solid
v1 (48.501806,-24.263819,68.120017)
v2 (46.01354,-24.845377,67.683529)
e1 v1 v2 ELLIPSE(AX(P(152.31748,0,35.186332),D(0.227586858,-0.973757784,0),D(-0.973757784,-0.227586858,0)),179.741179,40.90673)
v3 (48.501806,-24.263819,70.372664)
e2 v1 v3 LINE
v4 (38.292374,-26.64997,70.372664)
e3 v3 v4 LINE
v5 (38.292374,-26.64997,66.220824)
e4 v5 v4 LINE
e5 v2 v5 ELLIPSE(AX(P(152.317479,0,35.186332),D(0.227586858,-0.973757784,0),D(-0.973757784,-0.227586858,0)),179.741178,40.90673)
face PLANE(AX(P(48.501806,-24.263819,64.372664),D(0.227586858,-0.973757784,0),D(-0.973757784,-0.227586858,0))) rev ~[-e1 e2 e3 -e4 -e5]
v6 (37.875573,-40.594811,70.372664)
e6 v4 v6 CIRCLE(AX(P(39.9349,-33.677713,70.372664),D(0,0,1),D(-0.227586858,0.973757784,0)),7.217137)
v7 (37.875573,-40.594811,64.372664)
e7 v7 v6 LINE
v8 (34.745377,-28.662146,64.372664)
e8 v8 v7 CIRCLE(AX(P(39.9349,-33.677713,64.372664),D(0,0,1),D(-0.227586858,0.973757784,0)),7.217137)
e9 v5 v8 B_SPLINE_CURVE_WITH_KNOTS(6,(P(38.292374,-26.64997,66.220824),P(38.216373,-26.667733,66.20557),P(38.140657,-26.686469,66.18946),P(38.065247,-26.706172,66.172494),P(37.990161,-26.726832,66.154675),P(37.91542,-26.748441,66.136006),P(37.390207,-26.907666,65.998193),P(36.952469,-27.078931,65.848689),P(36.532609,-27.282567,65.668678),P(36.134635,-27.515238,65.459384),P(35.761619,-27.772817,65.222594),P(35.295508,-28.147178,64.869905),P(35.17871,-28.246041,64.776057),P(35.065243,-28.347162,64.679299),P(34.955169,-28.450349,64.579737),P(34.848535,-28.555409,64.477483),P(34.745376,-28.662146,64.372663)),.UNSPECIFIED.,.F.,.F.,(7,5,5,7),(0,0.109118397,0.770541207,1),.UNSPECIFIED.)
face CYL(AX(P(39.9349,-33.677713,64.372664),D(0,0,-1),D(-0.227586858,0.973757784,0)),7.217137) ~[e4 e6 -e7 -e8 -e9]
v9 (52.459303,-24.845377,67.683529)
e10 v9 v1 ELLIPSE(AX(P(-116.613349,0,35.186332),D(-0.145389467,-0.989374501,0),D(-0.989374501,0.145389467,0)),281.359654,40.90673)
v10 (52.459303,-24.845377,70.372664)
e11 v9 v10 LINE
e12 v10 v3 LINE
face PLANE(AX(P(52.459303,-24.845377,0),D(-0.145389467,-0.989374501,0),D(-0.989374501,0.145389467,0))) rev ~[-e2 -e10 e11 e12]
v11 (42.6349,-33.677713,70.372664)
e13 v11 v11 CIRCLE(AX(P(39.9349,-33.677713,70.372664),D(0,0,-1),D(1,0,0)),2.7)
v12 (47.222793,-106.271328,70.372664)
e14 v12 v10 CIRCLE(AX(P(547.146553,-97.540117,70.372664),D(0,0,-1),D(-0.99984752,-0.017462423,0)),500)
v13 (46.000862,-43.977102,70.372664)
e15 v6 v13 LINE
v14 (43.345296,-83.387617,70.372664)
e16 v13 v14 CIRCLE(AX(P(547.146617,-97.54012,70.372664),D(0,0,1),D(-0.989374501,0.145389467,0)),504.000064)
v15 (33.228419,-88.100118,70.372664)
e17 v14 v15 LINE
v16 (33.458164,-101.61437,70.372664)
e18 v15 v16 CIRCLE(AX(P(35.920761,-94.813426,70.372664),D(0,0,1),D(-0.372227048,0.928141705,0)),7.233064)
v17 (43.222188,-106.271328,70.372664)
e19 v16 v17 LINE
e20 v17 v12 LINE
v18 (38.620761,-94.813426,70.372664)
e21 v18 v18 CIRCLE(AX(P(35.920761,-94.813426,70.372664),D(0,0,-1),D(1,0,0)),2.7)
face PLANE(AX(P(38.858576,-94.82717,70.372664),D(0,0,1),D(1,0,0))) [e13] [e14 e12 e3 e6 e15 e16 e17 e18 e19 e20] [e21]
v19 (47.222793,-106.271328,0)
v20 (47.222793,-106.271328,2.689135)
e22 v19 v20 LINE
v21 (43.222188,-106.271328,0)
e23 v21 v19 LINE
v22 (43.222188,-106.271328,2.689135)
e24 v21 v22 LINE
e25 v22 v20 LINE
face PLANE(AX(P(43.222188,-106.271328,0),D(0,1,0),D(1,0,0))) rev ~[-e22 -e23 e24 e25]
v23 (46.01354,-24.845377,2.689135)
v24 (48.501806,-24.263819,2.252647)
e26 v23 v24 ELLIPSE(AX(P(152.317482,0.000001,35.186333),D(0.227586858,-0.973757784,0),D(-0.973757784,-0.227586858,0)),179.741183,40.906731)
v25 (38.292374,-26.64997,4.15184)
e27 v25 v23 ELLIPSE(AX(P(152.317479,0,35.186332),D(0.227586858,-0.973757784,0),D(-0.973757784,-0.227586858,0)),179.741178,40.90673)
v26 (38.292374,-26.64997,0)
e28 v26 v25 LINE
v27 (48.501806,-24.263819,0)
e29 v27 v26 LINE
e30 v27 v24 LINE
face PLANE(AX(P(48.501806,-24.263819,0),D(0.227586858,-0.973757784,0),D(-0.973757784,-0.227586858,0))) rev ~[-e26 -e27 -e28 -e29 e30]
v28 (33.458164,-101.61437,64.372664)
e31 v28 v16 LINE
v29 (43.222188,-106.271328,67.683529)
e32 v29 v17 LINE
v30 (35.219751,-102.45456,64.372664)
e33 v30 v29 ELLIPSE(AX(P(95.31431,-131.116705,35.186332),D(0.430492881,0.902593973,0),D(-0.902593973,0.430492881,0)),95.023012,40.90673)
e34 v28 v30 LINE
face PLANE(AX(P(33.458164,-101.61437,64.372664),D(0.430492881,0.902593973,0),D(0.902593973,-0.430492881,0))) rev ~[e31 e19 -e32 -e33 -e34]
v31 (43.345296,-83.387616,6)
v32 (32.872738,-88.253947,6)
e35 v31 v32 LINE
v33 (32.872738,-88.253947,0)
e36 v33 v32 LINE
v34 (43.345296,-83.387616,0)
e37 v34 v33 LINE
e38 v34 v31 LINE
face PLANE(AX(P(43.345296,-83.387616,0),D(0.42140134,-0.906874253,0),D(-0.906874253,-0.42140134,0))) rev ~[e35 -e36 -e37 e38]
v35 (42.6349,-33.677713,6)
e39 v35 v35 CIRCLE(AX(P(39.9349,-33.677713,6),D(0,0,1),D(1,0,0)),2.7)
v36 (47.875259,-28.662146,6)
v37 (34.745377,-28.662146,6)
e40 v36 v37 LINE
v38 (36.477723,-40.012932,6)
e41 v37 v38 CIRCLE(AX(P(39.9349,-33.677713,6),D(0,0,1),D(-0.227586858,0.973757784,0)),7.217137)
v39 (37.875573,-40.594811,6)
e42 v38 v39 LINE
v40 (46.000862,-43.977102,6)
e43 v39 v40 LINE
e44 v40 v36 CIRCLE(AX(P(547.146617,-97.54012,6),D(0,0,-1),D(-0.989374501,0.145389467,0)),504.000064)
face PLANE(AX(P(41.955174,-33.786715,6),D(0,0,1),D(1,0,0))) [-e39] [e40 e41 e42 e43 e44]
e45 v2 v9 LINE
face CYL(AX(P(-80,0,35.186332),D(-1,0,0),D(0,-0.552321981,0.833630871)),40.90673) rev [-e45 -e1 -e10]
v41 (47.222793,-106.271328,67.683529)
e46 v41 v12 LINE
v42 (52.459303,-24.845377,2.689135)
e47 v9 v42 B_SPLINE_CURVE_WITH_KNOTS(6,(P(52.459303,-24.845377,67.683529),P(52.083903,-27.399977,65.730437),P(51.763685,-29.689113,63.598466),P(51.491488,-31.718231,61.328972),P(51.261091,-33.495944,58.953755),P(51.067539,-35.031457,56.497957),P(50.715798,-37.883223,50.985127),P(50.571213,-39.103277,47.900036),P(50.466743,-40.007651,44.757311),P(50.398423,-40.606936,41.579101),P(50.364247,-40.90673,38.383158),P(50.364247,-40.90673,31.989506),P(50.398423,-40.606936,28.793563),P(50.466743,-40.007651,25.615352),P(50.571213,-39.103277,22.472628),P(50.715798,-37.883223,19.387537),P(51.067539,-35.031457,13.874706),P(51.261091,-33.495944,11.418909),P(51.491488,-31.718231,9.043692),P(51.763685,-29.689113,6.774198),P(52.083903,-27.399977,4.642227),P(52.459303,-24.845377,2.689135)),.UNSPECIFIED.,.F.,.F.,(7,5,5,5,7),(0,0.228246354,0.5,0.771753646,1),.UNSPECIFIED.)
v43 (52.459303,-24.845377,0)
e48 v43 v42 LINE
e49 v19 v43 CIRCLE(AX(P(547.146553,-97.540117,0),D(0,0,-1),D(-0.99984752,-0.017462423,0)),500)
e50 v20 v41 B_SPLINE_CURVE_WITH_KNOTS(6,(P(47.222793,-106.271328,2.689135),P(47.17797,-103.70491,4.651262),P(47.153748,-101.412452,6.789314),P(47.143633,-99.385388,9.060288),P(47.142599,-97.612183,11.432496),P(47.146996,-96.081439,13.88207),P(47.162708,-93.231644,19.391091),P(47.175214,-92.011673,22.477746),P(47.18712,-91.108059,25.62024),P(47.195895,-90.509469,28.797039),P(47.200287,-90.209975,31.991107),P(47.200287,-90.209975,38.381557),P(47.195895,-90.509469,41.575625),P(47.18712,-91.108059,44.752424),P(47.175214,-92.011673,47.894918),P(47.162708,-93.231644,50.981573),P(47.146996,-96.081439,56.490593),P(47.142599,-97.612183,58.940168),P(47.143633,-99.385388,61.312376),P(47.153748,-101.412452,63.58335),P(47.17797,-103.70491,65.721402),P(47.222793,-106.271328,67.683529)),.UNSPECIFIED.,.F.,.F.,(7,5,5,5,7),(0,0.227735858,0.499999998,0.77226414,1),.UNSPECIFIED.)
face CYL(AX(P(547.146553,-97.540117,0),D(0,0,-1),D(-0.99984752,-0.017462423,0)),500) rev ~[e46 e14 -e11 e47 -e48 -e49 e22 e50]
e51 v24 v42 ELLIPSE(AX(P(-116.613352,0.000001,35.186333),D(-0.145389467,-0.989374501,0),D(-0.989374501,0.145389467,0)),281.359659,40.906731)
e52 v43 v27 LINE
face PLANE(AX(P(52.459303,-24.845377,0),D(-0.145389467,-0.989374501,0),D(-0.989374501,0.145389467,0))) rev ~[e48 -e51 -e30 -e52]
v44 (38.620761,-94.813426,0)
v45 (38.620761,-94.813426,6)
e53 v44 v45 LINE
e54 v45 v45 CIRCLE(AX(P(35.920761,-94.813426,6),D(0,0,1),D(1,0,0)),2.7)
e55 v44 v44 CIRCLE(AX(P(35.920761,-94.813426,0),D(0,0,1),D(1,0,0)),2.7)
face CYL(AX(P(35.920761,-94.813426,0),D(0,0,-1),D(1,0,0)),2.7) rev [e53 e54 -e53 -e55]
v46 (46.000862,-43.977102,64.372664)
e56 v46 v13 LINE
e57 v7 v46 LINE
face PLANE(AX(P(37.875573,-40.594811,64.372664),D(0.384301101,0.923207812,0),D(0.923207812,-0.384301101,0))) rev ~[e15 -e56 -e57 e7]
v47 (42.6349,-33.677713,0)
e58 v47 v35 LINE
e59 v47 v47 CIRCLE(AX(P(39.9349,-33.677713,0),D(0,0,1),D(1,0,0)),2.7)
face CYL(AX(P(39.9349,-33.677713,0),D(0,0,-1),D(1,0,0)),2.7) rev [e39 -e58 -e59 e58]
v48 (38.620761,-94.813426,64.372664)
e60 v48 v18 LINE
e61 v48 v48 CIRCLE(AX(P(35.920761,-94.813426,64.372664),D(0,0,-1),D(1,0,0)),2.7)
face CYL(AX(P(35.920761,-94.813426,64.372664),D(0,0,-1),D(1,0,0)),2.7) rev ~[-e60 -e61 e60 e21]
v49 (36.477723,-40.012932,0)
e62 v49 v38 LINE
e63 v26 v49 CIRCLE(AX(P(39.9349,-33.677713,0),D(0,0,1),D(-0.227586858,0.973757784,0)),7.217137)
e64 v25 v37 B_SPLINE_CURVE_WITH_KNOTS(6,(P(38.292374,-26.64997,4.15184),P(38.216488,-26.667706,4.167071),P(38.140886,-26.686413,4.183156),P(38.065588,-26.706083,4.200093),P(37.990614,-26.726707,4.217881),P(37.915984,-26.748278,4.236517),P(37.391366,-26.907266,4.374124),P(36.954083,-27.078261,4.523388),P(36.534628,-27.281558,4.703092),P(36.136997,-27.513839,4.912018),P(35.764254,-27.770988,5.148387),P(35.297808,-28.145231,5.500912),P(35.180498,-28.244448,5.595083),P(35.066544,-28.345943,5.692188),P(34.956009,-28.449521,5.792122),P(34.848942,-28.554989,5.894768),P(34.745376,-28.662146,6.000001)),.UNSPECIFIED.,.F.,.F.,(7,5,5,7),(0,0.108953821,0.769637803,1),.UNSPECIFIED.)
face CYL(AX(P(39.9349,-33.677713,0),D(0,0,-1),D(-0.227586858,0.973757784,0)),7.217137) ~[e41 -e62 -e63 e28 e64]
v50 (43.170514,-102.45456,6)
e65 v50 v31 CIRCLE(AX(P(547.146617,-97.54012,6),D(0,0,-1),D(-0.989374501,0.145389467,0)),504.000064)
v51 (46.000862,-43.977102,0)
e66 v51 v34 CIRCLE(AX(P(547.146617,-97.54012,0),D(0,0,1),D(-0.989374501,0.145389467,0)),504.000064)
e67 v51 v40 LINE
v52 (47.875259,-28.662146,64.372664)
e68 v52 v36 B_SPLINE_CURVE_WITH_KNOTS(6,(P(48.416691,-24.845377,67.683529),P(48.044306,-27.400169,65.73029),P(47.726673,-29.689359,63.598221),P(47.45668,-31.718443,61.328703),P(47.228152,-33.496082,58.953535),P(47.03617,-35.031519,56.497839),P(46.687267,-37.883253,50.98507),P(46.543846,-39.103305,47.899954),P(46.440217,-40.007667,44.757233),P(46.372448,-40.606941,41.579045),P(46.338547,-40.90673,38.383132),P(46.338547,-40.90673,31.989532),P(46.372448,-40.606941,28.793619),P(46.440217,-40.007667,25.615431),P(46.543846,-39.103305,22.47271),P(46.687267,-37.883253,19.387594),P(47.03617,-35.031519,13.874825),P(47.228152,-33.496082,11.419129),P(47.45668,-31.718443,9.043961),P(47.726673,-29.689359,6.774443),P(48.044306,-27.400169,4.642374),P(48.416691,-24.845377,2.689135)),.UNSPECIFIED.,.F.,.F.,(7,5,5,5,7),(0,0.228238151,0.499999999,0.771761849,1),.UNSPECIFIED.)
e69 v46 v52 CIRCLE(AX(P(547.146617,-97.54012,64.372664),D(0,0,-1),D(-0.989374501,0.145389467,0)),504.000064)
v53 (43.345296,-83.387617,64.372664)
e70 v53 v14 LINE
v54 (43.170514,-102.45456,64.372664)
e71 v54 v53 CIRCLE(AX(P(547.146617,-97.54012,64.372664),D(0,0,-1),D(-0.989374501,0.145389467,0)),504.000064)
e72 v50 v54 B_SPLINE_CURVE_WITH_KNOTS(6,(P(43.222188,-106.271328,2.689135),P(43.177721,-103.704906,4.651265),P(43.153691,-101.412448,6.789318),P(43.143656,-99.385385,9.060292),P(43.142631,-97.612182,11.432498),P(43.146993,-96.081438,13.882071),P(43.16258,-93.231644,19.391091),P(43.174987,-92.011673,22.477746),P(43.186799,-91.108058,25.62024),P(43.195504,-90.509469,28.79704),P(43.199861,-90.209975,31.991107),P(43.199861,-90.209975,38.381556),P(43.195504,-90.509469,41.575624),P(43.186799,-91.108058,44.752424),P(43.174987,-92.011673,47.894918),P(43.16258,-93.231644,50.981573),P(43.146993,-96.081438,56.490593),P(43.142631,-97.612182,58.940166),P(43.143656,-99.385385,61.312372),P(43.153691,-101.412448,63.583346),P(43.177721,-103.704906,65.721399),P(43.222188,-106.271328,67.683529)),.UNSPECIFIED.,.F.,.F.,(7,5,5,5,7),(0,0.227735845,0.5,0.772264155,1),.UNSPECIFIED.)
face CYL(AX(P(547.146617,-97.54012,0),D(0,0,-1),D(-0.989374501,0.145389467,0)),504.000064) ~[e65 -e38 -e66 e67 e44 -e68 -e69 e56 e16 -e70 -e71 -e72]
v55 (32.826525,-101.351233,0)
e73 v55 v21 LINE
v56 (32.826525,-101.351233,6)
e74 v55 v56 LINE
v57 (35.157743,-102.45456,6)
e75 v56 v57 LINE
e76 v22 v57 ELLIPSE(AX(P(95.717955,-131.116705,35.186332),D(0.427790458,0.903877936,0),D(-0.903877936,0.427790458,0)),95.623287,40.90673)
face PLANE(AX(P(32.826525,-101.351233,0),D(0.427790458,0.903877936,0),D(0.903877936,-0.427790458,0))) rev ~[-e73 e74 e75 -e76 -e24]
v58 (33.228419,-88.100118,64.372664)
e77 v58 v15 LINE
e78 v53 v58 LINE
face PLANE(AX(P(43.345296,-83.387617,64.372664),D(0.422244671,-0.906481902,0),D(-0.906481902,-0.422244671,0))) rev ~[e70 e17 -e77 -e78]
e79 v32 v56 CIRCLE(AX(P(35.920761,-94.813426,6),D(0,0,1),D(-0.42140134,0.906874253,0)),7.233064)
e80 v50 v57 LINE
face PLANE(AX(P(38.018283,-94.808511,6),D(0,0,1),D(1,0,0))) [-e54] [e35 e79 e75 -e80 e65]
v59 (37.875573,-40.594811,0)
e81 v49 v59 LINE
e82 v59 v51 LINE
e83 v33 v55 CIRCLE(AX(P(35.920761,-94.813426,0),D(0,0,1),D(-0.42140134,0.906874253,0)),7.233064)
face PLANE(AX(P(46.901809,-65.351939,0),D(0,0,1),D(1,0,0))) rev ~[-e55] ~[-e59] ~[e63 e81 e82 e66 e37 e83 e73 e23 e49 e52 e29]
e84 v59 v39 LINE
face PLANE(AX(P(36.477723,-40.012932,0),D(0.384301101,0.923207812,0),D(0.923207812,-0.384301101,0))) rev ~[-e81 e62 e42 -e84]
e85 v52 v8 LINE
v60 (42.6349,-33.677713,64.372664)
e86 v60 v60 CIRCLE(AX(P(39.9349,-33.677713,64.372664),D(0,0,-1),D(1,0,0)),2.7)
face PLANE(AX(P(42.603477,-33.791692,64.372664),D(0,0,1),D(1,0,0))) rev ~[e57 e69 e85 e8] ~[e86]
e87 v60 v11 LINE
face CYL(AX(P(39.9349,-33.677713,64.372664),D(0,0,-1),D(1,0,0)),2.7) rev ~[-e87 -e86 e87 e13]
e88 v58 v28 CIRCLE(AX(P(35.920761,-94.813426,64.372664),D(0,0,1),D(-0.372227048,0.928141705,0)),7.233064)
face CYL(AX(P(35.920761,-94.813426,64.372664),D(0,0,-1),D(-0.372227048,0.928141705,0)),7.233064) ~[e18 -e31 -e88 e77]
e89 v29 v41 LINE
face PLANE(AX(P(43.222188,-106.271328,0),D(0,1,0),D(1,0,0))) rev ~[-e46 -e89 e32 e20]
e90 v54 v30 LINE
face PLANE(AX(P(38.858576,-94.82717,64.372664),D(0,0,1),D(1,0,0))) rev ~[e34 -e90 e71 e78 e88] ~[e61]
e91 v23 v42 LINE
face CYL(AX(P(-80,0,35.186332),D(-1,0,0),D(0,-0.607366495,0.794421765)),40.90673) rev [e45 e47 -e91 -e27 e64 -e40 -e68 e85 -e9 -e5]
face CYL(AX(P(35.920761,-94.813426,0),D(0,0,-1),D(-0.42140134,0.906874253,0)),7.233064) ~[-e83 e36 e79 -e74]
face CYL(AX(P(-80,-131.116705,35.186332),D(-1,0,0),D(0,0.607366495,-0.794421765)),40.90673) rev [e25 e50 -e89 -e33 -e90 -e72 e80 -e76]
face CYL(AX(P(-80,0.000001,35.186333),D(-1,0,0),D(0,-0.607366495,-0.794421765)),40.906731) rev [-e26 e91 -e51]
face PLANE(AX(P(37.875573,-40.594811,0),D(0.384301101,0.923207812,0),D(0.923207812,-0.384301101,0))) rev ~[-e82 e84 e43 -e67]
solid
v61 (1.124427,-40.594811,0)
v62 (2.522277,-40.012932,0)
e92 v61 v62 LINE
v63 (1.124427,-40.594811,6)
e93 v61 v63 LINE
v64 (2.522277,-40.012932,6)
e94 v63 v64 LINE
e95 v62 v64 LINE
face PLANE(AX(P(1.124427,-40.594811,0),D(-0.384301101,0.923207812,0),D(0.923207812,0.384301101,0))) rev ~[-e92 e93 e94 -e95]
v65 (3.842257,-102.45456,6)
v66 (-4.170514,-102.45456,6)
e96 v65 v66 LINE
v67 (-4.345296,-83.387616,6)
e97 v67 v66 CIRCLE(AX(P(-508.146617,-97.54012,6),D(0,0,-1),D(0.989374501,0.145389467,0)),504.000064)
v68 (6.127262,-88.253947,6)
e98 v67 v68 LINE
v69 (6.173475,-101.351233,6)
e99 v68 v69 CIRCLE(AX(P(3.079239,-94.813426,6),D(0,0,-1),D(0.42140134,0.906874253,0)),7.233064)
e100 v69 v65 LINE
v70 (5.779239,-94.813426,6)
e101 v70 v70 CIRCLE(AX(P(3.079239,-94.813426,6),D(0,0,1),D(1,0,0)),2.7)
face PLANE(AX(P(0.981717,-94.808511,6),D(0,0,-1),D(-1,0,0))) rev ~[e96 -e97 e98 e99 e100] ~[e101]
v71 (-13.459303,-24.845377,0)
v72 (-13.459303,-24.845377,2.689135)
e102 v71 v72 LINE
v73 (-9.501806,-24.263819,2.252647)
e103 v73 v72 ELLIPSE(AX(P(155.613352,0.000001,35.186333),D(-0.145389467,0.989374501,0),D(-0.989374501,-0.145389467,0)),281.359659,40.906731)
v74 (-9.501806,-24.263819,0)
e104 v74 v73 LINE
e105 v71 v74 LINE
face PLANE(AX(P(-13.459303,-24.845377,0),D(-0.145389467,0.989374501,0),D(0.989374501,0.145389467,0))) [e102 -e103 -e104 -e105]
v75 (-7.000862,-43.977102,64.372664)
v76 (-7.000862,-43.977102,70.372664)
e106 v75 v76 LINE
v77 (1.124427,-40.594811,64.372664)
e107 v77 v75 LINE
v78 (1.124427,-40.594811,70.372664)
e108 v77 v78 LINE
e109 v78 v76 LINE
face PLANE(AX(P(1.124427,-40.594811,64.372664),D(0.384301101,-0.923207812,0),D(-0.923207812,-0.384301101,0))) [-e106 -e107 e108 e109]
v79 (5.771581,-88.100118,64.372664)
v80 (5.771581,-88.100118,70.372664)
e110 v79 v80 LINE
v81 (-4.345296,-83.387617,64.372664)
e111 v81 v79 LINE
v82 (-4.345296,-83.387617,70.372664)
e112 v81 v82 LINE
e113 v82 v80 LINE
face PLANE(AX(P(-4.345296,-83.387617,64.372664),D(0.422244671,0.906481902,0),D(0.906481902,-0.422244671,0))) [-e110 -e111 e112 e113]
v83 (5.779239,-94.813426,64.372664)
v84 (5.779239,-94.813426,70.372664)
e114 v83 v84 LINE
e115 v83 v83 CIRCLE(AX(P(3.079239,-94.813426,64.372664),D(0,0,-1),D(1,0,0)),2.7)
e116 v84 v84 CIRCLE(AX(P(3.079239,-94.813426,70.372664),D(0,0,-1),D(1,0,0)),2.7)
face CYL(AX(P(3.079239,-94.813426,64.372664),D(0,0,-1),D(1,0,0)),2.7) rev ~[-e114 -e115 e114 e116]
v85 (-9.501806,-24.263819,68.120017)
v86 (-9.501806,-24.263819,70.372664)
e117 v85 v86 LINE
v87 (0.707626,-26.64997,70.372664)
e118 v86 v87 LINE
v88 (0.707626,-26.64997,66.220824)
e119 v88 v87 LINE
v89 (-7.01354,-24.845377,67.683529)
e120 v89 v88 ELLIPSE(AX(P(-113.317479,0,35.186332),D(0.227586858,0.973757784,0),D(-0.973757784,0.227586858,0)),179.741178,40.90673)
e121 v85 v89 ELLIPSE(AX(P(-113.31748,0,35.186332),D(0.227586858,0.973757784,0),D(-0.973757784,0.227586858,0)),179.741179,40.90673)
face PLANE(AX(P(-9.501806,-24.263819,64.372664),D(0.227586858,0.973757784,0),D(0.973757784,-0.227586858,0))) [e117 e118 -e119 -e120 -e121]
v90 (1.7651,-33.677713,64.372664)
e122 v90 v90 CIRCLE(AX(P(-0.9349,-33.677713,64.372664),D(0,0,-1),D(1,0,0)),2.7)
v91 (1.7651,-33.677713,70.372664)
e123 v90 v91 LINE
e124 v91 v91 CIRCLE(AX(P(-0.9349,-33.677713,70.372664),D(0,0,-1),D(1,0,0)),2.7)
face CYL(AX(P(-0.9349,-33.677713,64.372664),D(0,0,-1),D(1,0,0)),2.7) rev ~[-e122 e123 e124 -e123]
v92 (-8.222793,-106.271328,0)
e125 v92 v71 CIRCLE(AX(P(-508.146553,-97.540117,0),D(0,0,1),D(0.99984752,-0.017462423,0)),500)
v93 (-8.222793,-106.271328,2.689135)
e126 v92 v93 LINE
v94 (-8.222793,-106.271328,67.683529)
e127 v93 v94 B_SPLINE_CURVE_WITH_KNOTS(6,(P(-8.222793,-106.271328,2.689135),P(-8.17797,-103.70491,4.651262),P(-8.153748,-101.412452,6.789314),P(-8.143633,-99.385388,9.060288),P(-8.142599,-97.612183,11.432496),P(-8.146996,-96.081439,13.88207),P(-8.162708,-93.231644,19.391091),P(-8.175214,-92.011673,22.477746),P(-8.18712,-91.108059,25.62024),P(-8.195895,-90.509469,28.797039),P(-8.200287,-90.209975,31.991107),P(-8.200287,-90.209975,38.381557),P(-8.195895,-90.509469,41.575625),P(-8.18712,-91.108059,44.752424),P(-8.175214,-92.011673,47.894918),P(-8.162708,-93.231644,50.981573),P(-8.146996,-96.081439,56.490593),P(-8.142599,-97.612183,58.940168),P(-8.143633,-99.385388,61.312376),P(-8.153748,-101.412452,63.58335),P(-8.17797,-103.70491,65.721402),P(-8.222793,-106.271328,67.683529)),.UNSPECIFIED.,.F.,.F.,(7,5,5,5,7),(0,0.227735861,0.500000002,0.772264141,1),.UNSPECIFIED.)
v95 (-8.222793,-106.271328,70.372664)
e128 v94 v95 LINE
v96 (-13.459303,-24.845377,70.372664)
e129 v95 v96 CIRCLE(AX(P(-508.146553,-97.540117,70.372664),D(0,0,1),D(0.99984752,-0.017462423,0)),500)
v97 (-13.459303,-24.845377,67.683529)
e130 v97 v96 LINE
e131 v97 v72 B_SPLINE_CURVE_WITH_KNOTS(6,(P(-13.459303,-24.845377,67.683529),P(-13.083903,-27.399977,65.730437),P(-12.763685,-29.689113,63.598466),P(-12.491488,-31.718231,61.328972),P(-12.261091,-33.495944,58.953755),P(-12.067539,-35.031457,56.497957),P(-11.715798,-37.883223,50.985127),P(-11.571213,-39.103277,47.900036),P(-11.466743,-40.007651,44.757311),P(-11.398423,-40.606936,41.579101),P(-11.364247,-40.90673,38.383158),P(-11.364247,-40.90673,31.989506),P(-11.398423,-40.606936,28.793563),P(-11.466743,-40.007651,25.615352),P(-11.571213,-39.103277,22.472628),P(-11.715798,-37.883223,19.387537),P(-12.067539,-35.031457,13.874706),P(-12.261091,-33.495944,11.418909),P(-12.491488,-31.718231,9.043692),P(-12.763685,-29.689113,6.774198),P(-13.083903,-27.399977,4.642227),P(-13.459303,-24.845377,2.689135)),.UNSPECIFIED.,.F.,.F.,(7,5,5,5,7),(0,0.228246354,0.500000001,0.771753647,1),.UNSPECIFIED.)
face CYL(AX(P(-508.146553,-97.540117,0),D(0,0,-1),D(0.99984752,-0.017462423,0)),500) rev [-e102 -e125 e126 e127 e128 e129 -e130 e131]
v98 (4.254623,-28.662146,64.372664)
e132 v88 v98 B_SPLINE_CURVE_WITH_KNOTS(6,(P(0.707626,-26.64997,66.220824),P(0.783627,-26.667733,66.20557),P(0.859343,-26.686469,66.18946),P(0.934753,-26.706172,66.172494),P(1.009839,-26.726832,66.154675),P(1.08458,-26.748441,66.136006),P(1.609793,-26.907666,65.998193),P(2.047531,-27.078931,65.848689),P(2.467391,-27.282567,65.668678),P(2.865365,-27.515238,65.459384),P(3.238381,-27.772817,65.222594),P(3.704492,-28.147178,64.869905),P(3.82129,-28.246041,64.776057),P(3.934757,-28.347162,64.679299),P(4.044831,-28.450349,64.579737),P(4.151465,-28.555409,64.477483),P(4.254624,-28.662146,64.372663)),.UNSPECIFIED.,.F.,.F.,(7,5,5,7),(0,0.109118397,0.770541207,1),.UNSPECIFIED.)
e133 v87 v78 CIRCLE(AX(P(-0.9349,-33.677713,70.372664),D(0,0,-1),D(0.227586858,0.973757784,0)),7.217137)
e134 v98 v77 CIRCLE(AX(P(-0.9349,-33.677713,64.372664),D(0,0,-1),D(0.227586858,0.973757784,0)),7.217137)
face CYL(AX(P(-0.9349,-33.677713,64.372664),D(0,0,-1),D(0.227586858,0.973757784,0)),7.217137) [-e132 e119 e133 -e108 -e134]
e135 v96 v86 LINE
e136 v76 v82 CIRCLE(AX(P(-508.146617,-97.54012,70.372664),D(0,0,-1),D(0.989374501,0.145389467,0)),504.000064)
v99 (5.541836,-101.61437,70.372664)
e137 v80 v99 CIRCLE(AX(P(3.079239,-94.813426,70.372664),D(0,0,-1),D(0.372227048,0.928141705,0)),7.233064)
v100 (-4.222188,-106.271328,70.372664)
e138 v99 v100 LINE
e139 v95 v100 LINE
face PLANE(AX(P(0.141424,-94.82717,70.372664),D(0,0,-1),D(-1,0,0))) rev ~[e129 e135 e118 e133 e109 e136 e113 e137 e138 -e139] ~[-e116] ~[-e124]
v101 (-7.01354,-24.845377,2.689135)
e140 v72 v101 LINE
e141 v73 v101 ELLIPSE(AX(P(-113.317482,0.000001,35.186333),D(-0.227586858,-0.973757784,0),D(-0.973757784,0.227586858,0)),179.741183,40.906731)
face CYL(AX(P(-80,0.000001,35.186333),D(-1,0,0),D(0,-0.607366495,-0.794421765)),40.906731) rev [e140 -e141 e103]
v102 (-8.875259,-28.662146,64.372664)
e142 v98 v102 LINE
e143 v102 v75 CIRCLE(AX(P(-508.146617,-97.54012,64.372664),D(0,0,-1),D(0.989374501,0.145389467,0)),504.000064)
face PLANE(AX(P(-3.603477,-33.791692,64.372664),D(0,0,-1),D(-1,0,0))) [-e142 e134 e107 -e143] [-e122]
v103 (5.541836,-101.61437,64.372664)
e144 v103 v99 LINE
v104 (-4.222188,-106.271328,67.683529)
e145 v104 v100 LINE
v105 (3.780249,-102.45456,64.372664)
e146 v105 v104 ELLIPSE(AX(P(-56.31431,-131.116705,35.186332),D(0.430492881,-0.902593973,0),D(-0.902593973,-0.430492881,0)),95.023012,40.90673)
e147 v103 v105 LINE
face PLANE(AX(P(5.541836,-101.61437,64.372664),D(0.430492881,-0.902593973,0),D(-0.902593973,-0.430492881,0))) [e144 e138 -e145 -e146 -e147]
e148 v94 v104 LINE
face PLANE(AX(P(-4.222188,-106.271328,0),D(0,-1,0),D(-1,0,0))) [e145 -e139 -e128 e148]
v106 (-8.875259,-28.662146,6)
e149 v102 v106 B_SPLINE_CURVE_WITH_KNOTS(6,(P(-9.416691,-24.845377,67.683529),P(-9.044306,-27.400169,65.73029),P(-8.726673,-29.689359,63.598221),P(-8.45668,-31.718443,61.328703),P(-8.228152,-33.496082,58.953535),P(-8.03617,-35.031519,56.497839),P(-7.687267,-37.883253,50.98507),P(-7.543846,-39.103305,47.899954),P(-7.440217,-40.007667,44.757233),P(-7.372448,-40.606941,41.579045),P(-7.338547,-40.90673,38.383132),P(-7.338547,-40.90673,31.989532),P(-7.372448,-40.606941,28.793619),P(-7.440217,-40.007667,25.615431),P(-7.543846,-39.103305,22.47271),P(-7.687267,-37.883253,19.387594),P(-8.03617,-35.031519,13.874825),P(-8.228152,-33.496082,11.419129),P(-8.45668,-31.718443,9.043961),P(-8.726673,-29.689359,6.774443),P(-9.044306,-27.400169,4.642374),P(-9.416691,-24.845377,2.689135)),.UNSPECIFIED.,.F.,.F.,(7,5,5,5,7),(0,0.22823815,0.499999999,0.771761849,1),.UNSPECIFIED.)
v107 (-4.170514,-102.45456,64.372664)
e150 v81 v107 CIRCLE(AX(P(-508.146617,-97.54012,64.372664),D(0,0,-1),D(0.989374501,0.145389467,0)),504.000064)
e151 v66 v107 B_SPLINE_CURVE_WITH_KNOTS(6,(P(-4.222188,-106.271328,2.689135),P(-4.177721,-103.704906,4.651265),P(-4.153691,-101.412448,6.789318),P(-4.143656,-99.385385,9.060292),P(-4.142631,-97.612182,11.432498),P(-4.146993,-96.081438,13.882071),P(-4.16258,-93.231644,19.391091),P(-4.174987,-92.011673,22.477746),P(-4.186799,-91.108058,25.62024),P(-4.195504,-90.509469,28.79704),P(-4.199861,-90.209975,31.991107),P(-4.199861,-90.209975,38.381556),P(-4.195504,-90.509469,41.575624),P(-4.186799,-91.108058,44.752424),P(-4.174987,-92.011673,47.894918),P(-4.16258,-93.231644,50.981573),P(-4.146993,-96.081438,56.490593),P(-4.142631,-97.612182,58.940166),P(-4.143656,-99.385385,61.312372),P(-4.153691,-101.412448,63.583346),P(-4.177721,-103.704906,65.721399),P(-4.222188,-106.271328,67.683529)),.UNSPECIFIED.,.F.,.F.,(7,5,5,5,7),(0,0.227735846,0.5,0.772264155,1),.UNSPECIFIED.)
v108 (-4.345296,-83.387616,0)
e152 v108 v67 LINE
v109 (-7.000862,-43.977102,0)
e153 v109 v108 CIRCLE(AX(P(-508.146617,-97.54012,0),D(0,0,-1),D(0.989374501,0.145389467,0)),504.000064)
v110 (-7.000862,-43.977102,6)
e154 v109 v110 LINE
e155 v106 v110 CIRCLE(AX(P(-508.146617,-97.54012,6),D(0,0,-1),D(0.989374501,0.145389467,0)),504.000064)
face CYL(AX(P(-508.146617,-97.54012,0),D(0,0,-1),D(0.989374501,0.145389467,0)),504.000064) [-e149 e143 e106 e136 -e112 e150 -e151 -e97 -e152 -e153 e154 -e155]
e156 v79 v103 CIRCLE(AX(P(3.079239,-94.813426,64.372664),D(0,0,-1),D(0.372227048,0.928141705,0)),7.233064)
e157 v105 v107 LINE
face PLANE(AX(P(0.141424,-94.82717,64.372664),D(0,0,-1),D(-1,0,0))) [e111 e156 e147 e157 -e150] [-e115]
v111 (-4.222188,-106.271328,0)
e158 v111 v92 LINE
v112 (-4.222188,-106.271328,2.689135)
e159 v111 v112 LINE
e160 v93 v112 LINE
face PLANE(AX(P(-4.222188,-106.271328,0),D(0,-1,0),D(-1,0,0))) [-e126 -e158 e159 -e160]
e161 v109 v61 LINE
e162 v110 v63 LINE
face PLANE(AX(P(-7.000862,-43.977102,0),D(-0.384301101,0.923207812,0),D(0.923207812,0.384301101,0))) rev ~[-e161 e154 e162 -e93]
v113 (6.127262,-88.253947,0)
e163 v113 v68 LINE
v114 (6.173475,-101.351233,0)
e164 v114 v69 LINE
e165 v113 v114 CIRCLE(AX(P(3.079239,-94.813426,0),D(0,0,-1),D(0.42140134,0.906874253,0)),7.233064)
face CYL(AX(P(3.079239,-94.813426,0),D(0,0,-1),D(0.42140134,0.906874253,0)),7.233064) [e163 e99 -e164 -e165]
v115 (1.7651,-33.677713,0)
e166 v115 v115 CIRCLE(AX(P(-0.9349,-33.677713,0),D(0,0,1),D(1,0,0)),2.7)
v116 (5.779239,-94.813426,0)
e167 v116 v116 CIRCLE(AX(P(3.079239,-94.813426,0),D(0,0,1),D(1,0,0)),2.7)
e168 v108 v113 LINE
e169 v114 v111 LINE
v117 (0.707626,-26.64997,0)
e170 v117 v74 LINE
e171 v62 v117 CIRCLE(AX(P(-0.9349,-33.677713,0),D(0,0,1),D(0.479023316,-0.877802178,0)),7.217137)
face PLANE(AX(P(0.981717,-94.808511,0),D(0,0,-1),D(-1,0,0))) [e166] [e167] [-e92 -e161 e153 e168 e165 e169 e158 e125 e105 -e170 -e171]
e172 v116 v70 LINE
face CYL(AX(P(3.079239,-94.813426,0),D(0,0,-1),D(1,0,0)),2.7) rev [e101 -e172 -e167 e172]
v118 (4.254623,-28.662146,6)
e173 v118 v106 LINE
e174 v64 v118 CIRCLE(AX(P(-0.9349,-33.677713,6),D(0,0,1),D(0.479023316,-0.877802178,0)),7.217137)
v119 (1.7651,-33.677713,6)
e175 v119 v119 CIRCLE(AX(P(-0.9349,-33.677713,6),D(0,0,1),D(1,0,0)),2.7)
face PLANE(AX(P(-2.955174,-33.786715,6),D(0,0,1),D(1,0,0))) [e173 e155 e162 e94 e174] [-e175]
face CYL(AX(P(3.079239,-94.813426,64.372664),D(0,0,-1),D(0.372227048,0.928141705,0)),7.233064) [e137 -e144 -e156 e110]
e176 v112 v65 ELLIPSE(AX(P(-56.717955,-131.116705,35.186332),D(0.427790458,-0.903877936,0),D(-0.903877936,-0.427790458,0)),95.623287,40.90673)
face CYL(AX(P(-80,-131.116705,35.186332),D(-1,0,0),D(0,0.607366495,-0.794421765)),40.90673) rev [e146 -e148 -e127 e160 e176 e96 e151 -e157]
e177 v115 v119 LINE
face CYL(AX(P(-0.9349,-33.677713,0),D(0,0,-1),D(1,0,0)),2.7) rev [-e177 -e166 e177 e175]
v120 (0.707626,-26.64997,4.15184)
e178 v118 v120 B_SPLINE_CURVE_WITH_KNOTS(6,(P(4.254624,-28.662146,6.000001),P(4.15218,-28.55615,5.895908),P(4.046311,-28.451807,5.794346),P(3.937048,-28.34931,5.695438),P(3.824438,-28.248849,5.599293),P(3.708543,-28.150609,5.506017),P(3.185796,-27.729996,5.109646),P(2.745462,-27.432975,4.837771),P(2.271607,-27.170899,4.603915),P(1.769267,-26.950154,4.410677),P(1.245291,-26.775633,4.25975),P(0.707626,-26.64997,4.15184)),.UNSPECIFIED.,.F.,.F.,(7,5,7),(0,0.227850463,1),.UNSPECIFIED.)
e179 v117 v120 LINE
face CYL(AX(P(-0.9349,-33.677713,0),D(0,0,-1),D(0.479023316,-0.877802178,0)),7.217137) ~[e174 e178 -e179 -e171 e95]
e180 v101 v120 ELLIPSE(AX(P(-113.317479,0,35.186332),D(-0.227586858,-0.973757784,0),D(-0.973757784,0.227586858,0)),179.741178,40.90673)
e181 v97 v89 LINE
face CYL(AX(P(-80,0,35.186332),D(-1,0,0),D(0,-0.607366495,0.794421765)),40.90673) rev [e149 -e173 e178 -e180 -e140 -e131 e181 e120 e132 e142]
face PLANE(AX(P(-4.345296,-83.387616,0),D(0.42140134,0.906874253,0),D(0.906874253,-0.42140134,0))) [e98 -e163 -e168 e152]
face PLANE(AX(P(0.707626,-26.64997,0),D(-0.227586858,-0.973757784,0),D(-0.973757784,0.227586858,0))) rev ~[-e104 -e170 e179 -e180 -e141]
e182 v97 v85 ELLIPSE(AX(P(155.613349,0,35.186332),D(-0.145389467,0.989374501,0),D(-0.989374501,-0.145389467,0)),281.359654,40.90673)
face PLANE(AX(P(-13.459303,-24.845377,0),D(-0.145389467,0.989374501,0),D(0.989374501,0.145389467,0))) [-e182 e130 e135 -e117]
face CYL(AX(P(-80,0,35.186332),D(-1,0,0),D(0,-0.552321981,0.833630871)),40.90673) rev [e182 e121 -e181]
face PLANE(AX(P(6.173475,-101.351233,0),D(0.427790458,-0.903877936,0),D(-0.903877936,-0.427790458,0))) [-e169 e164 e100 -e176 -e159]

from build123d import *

# Parameters (mm, degrees)
BOSS_EXTRUDE1_DEPTH     = 70.372663867
BOSS_EXTRUDE1_2_DEPTH   = 70.372663867
SKETCH3_R               = 2.7
BOSS_EXTRUDE3_DEPTH     = 6
BOSS_EXTRUDE4_START     = 6
SKETCH4_R               = 2.7
BOSS_EXTRUDE4_DEPTH     = 6
CUT_EXTRUDE1_DEPTH      = 37
CUT_EXTRUDE1_DEPTH_BACK = 122


with BuildPart() as part:
    # Sketch1 → Boss-Extrude1 (new body)
    with BuildSketch(Plane.XY):
        with BuildLine():
            Line((52.459303301, -24.845377227), (48.501805535, -24.263819392))
            ThreePointArc((48.501805535, -24.263819392), (44.187793225, -65.159788986), (43.222187867, -106.271327968))
            Line((43.222187867, -106.271327968), (47.222792706, -106.271327968))
            ThreePointArc((47.222792706, -106.271327968), (48.177303783, -65.451357049), (52.459303301, -24.845377227))
        make_face()
    extrude(amount=BOSS_EXTRUDE1_DEPTH)



with BuildPart() as body_2:
    # Sketch1 → Boss-Extrude1 2 (new body)
    with BuildSketch(Plane.XY):
        with BuildLine():
            ThreePointArc((-9.501805535, -24.263819392), (-5.187793225, -65.159788986), (-4.222187867, -106.271327968))
            Line((-4.222187867, -106.271327968), (-8.222792706, -106.271327968))
            ThreePointArc((-8.222792706, -106.271327968), (-9.177303783, -65.451357049), (-13.459303301, -24.845377227))
            Line((-13.459303301, -24.845377227), (-9.501805535, -24.263819392))
        make_face()
    extrude(amount=BOSS_EXTRUDE1_2_DEPTH)


with BuildPart() as part_1:
    add(part.part)

    add(body_2.part)  # Boss-Extrude3 merges body 2
    # Sketch3 → Boss-Extrude3 (add)
    # profile 1 of 4: a face of its own
    with BuildSketch(Plane.XY):
        with BuildLine():
            Line((46.588315584, -44.278175656), (48.501805535, -24.263819392))
            Line((48.501805535, -24.263819392), (38.292374296, -26.649969637))
            ThreePointArc((38.292374296, -26.649969637), (32.783401233, -32.706560534), (36.477722857, -40.012932085))
            Line((36.477722857, -40.012932085), (37.87557263, -40.59481105))
            Line((37.87557263, -40.59481105), (46.000862369, -43.977102392))
            Line((46.000862369, -43.977102392), (46.588315584, -44.278175656))
        make_face()
        with Locations((39.934899894, -33.677713254)):
            Circle(SKETCH3_R, mode=Mode.SUBTRACT)
    # profile 2 of 4: a face of its own
    with BuildSketch(Plane.XY):
        with BuildLine():
            Line((43.345296139, -83.387616433), (32.872738024, -88.253947136))
            ThreePointArc((32.872738024, -88.253947136), (28.68774212, -94.787905094), (32.826525123, -101.351232952))
            Line((32.826525123, -101.351232952), (43.222187867, -106.271327968))
            Line((43.222187867, -106.271327968), (43.345296139, -83.387616433))
        make_face()
        with Locations((35.920760732, -94.813426318)):
            Circle(SKETCH3_R, mode=Mode.SUBTRACT)
    # profile 3 of 4: a face of its own
    with BuildSketch(Plane.XY):
        with BuildLine():
            ThreePointArc((6.127261979, -88.253947136), (10.312257883, -94.787905094), (6.17347488, -101.351232952))
            Line((6.17347488, -101.351232952), (-4.222187864, -106.271327968))
            Line((-4.222187864, -106.271327968), (-4.345296136, -83.387616433))
            Line((-4.345296136, -83.387616433), (6.127261979, -88.253947136))
        make_face()
        with Locations((3.079239271, -94.813426318)):
            Circle(SKETCH3_R, mode=Mode.SUBTRACT)
    # profile 4 of 4: a face of its own
    with BuildSketch(Plane.XY):
        with BuildLine():
            Line((-9.501805532, -24.263819392), (-7.588315581, -44.278175656))
            Line((-7.588315581, -44.278175656), (-7.000862366, -43.977102392))
            Line((-7.000862366, -43.977102392), (1.124427373, -40.59481105))
            Line((1.124427373, -40.59481105), (2.522277146, -40.012932085))
            ThreePointArc((2.522277146, -40.012932085), (6.21659877, -32.706560534), (0.707625707, -26.649969637))
            Line((0.707625707, -26.649969637), (-9.501805532, -24.263819392))
        make_face()
        with Locations((-0.934899891, -33.677713254)):
            Circle(SKETCH3_R, mode=Mode.SUBTRACT)
    extrude(amount=BOSS_EXTRUDE3_DEPTH)

    # Sketch4 → Boss-Extrude4 (add)
    # profile 1 of 4: a face of its own
    with BuildSketch(Plane(origin=(0, 0, 70.372663867), x_dir=(-1, 0, 0), z_dir=(0, 0, -1)).offset(BOSS_EXTRUDE4_START)):
        with BuildLine():
            ThreePointArc((-33.228418815, -88.100118301), (-28.688742082, -94.936372365), (-33.458164318, -101.614369521))
            Line((-33.458164318, -101.614369521), (-43.222187874, -106.271327968))
            Line((-43.222187874, -106.271327968), (-44.80470153, -106.271327968))
            Line((-44.80470153, -106.271327968), (-44.80470153, -83.387616563))
            Line((-44.80470153, -83.387616563), (-43.345296145, -83.387616563))
            Line((-43.345296145, -83.387616563), (-33.228418815, -88.100118301))
        make_face()
        with Locations(Location((-35.920760738, -94.813426319, 0), (0, 0, 180))):
            Circle(SKETCH4_R, mode=Mode.SUBTRACT)
    # profile 2 of 4: a face of its own
    with BuildSketch(Plane(origin=(0, 0, 70.372663867), x_dir=(-1, 0, 0), z_dir=(0, 0, -1)).offset(BOSS_EXTRUDE4_START)):
        with BuildLine():
            ThreePointArc((-38.292374303, -26.649969637), (-32.720984239, -33.462094304), (-37.875572636, -40.59481105))
            Line((-37.875572636, -40.59481105), (-46.000862375, -43.977102392))
            Line((-46.000862375, -43.977102392), (-47.765499224, -43.977102392))
            Line((-47.765499224, -43.977102392), (-49.986097494, -25.265653816))
            Line((-49.986097494, -25.265653816), (-48.501805545, -24.263819392))
            Line((-48.501805545, -24.263819392), (-38.292374303, -26.649969637))
        make_face()
        with Locations(Location((-39.9348999, -33.677713254, 0), (0, 0, 180))):
            Circle(SKETCH4_R, mode=Mode.SUBTRACT)
    # profile 3 of 4: a face of its own
    with BuildSketch(Plane(origin=(0, 0, 70.372663867), x_dir=(-1, 0, 0), z_dir=(0, 0, -1)).offset(BOSS_EXTRUDE4_START)):
        with BuildLine():
            Line((4.345296135, -83.387616563), (-5.771581195, -88.100118301))
            ThreePointArc((-5.771581195, -88.100118301), (-10.311257927, -94.936372365), (-5.541835692, -101.614369521))
            Line((-5.541835692, -101.614369521), (4.222187864, -106.271327968))
            Line((4.222187864, -106.271327968), (5.804701521, -106.271327968))
            Line((5.804701521, -106.271327968), (5.804701521, -83.387616563))
            Line((5.804701521, -83.387616563), (4.345296135, -83.387616563))
        make_face()
        with Locations(Location((-3.079239271, -94.813426319, 0), (0, 0, 180))):
            Circle(SKETCH4_R, mode=Mode.SUBTRACT)
    # profile 4 of 4: a face of its own
    with BuildSketch(Plane(origin=(0, 0, 70.372663867), x_dir=(-1, 0, 0), z_dir=(0, 0, -1)).offset(BOSS_EXTRUDE4_START)):
        with BuildLine():
            Line((9.501805535, -24.263819392), (-0.707625707, -26.649969637))
            ThreePointArc((-0.707625707, -26.649969637), (-6.27901577, -33.462094304), (-1.124427373, -40.59481105))
            Line((-1.124427373, -40.59481105), (7.000862366, -43.977102392))
            Line((7.000862366, -43.977102392), (8.765499214, -43.977102392))
            Line((8.765499214, -43.977102392), (10.986097485, -25.265653816))
            Line((10.986097485, -25.265653816), (9.501805535, -24.263819392))
        make_face()
        with Locations(Location((0.934899891, -33.677713254, 0), (0, 0, 180))):
            Circle(SKETCH4_R, mode=Mode.SUBTRACT)
    extrude(amount=-BOSS_EXTRUDE4_DEPTH)

    # Sketch5 → Cut-Extrude1 (cut, two sides: drawn at the far end of the back side and taken through both)
    with BuildSketch(Plane(origin=(42, 0, 0), x_dir=(0, 0, -1), z_dir=(1, 0, 0)).offset(-CUT_EXTRUDE1_DEPTH_BACK)):
        with BuildLine():
            ThreePointArc((-67.683528548, -24.845377226), (-35.186331933, -40.906729976), (-2.689135319, -24.845377226))
            Line((-2.689135319, -24.845377226), (-35.186331933, -24.845377226))
            Line((-35.186331933, -24.845377226), (-67.683528548, -24.845377226))
        make_face()
        with BuildLine():
            ThreePointArc((-2.689135319, -24.845377226), (-1.868150155, -23.733084929), (-1.085218994, -22.593686145))
            Line((-1.085218994, -22.593686145), (-35.186331933, -22.593686145))
            Line((-35.186331933, -22.593686145), (-35.186331933, -24.845377226))
            Line((-35.186331933, -24.845377226), (-2.689135319, -24.845377226))
        make_face()
        with BuildLine():
            Line((-35.186331933, -24.845377226), (-35.186331933, -22.593686145))
            Line((-35.186331933, -22.593686145), (-69.287444872, -22.593686145))
            ThreePointArc((-69.287444872, -22.593686145), (-68.504513712, -23.733084929), (-67.683528548, -24.845377226))
            Line((-67.683528548, -24.845377226), (-35.186331933, -24.845377226))
        make_face()
        with BuildLine():
            Line((-35.186331933, -106.271327969), (-2.689135319, -106.271327969))
            ThreePointArc((-2.689135319, -106.271327969), (-35.186331933, -90.20997522), (-67.683528548, -106.271327969))
            Line((-67.683528548, -106.271327969), (-35.186331933, -106.271327969))
        make_face()
        with BuildLine():
            ThreePointArc((-1.085218994, -108.52301905), (-1.868150155, -107.383620266), (-2.689135319, -106.271327969))
            Line((-2.689135319, -106.271327969), (-35.186331933, -106.271327969))
            Line((-35.186331933, -106.271327969), (-35.186331933, -108.52301905))
            Line((-35.186331933, -108.52301905), (-1.085218994, -108.52301905))
        make_face()
        with BuildLine():
            Line((-35.186331933, -108.52301905), (-35.186331933, -106.271327969))
            Line((-35.186331933, -106.271327969), (-67.683528548, -106.271327969))
            ThreePointArc((-67.683528548, -106.271327969), (-68.504513712, -107.383620266), (-69.287444872, -108.52301905))
            Line((-69.287444872, -108.52301905), (-35.186331933, -108.52301905))
        make_face()
    extrude(amount=CUT_EXTRUDE1_DEPTH + CUT_EXTRUDE1_DEPTH_BACK, mode=Mode.SUBTRACT)


solid = part_1.part
